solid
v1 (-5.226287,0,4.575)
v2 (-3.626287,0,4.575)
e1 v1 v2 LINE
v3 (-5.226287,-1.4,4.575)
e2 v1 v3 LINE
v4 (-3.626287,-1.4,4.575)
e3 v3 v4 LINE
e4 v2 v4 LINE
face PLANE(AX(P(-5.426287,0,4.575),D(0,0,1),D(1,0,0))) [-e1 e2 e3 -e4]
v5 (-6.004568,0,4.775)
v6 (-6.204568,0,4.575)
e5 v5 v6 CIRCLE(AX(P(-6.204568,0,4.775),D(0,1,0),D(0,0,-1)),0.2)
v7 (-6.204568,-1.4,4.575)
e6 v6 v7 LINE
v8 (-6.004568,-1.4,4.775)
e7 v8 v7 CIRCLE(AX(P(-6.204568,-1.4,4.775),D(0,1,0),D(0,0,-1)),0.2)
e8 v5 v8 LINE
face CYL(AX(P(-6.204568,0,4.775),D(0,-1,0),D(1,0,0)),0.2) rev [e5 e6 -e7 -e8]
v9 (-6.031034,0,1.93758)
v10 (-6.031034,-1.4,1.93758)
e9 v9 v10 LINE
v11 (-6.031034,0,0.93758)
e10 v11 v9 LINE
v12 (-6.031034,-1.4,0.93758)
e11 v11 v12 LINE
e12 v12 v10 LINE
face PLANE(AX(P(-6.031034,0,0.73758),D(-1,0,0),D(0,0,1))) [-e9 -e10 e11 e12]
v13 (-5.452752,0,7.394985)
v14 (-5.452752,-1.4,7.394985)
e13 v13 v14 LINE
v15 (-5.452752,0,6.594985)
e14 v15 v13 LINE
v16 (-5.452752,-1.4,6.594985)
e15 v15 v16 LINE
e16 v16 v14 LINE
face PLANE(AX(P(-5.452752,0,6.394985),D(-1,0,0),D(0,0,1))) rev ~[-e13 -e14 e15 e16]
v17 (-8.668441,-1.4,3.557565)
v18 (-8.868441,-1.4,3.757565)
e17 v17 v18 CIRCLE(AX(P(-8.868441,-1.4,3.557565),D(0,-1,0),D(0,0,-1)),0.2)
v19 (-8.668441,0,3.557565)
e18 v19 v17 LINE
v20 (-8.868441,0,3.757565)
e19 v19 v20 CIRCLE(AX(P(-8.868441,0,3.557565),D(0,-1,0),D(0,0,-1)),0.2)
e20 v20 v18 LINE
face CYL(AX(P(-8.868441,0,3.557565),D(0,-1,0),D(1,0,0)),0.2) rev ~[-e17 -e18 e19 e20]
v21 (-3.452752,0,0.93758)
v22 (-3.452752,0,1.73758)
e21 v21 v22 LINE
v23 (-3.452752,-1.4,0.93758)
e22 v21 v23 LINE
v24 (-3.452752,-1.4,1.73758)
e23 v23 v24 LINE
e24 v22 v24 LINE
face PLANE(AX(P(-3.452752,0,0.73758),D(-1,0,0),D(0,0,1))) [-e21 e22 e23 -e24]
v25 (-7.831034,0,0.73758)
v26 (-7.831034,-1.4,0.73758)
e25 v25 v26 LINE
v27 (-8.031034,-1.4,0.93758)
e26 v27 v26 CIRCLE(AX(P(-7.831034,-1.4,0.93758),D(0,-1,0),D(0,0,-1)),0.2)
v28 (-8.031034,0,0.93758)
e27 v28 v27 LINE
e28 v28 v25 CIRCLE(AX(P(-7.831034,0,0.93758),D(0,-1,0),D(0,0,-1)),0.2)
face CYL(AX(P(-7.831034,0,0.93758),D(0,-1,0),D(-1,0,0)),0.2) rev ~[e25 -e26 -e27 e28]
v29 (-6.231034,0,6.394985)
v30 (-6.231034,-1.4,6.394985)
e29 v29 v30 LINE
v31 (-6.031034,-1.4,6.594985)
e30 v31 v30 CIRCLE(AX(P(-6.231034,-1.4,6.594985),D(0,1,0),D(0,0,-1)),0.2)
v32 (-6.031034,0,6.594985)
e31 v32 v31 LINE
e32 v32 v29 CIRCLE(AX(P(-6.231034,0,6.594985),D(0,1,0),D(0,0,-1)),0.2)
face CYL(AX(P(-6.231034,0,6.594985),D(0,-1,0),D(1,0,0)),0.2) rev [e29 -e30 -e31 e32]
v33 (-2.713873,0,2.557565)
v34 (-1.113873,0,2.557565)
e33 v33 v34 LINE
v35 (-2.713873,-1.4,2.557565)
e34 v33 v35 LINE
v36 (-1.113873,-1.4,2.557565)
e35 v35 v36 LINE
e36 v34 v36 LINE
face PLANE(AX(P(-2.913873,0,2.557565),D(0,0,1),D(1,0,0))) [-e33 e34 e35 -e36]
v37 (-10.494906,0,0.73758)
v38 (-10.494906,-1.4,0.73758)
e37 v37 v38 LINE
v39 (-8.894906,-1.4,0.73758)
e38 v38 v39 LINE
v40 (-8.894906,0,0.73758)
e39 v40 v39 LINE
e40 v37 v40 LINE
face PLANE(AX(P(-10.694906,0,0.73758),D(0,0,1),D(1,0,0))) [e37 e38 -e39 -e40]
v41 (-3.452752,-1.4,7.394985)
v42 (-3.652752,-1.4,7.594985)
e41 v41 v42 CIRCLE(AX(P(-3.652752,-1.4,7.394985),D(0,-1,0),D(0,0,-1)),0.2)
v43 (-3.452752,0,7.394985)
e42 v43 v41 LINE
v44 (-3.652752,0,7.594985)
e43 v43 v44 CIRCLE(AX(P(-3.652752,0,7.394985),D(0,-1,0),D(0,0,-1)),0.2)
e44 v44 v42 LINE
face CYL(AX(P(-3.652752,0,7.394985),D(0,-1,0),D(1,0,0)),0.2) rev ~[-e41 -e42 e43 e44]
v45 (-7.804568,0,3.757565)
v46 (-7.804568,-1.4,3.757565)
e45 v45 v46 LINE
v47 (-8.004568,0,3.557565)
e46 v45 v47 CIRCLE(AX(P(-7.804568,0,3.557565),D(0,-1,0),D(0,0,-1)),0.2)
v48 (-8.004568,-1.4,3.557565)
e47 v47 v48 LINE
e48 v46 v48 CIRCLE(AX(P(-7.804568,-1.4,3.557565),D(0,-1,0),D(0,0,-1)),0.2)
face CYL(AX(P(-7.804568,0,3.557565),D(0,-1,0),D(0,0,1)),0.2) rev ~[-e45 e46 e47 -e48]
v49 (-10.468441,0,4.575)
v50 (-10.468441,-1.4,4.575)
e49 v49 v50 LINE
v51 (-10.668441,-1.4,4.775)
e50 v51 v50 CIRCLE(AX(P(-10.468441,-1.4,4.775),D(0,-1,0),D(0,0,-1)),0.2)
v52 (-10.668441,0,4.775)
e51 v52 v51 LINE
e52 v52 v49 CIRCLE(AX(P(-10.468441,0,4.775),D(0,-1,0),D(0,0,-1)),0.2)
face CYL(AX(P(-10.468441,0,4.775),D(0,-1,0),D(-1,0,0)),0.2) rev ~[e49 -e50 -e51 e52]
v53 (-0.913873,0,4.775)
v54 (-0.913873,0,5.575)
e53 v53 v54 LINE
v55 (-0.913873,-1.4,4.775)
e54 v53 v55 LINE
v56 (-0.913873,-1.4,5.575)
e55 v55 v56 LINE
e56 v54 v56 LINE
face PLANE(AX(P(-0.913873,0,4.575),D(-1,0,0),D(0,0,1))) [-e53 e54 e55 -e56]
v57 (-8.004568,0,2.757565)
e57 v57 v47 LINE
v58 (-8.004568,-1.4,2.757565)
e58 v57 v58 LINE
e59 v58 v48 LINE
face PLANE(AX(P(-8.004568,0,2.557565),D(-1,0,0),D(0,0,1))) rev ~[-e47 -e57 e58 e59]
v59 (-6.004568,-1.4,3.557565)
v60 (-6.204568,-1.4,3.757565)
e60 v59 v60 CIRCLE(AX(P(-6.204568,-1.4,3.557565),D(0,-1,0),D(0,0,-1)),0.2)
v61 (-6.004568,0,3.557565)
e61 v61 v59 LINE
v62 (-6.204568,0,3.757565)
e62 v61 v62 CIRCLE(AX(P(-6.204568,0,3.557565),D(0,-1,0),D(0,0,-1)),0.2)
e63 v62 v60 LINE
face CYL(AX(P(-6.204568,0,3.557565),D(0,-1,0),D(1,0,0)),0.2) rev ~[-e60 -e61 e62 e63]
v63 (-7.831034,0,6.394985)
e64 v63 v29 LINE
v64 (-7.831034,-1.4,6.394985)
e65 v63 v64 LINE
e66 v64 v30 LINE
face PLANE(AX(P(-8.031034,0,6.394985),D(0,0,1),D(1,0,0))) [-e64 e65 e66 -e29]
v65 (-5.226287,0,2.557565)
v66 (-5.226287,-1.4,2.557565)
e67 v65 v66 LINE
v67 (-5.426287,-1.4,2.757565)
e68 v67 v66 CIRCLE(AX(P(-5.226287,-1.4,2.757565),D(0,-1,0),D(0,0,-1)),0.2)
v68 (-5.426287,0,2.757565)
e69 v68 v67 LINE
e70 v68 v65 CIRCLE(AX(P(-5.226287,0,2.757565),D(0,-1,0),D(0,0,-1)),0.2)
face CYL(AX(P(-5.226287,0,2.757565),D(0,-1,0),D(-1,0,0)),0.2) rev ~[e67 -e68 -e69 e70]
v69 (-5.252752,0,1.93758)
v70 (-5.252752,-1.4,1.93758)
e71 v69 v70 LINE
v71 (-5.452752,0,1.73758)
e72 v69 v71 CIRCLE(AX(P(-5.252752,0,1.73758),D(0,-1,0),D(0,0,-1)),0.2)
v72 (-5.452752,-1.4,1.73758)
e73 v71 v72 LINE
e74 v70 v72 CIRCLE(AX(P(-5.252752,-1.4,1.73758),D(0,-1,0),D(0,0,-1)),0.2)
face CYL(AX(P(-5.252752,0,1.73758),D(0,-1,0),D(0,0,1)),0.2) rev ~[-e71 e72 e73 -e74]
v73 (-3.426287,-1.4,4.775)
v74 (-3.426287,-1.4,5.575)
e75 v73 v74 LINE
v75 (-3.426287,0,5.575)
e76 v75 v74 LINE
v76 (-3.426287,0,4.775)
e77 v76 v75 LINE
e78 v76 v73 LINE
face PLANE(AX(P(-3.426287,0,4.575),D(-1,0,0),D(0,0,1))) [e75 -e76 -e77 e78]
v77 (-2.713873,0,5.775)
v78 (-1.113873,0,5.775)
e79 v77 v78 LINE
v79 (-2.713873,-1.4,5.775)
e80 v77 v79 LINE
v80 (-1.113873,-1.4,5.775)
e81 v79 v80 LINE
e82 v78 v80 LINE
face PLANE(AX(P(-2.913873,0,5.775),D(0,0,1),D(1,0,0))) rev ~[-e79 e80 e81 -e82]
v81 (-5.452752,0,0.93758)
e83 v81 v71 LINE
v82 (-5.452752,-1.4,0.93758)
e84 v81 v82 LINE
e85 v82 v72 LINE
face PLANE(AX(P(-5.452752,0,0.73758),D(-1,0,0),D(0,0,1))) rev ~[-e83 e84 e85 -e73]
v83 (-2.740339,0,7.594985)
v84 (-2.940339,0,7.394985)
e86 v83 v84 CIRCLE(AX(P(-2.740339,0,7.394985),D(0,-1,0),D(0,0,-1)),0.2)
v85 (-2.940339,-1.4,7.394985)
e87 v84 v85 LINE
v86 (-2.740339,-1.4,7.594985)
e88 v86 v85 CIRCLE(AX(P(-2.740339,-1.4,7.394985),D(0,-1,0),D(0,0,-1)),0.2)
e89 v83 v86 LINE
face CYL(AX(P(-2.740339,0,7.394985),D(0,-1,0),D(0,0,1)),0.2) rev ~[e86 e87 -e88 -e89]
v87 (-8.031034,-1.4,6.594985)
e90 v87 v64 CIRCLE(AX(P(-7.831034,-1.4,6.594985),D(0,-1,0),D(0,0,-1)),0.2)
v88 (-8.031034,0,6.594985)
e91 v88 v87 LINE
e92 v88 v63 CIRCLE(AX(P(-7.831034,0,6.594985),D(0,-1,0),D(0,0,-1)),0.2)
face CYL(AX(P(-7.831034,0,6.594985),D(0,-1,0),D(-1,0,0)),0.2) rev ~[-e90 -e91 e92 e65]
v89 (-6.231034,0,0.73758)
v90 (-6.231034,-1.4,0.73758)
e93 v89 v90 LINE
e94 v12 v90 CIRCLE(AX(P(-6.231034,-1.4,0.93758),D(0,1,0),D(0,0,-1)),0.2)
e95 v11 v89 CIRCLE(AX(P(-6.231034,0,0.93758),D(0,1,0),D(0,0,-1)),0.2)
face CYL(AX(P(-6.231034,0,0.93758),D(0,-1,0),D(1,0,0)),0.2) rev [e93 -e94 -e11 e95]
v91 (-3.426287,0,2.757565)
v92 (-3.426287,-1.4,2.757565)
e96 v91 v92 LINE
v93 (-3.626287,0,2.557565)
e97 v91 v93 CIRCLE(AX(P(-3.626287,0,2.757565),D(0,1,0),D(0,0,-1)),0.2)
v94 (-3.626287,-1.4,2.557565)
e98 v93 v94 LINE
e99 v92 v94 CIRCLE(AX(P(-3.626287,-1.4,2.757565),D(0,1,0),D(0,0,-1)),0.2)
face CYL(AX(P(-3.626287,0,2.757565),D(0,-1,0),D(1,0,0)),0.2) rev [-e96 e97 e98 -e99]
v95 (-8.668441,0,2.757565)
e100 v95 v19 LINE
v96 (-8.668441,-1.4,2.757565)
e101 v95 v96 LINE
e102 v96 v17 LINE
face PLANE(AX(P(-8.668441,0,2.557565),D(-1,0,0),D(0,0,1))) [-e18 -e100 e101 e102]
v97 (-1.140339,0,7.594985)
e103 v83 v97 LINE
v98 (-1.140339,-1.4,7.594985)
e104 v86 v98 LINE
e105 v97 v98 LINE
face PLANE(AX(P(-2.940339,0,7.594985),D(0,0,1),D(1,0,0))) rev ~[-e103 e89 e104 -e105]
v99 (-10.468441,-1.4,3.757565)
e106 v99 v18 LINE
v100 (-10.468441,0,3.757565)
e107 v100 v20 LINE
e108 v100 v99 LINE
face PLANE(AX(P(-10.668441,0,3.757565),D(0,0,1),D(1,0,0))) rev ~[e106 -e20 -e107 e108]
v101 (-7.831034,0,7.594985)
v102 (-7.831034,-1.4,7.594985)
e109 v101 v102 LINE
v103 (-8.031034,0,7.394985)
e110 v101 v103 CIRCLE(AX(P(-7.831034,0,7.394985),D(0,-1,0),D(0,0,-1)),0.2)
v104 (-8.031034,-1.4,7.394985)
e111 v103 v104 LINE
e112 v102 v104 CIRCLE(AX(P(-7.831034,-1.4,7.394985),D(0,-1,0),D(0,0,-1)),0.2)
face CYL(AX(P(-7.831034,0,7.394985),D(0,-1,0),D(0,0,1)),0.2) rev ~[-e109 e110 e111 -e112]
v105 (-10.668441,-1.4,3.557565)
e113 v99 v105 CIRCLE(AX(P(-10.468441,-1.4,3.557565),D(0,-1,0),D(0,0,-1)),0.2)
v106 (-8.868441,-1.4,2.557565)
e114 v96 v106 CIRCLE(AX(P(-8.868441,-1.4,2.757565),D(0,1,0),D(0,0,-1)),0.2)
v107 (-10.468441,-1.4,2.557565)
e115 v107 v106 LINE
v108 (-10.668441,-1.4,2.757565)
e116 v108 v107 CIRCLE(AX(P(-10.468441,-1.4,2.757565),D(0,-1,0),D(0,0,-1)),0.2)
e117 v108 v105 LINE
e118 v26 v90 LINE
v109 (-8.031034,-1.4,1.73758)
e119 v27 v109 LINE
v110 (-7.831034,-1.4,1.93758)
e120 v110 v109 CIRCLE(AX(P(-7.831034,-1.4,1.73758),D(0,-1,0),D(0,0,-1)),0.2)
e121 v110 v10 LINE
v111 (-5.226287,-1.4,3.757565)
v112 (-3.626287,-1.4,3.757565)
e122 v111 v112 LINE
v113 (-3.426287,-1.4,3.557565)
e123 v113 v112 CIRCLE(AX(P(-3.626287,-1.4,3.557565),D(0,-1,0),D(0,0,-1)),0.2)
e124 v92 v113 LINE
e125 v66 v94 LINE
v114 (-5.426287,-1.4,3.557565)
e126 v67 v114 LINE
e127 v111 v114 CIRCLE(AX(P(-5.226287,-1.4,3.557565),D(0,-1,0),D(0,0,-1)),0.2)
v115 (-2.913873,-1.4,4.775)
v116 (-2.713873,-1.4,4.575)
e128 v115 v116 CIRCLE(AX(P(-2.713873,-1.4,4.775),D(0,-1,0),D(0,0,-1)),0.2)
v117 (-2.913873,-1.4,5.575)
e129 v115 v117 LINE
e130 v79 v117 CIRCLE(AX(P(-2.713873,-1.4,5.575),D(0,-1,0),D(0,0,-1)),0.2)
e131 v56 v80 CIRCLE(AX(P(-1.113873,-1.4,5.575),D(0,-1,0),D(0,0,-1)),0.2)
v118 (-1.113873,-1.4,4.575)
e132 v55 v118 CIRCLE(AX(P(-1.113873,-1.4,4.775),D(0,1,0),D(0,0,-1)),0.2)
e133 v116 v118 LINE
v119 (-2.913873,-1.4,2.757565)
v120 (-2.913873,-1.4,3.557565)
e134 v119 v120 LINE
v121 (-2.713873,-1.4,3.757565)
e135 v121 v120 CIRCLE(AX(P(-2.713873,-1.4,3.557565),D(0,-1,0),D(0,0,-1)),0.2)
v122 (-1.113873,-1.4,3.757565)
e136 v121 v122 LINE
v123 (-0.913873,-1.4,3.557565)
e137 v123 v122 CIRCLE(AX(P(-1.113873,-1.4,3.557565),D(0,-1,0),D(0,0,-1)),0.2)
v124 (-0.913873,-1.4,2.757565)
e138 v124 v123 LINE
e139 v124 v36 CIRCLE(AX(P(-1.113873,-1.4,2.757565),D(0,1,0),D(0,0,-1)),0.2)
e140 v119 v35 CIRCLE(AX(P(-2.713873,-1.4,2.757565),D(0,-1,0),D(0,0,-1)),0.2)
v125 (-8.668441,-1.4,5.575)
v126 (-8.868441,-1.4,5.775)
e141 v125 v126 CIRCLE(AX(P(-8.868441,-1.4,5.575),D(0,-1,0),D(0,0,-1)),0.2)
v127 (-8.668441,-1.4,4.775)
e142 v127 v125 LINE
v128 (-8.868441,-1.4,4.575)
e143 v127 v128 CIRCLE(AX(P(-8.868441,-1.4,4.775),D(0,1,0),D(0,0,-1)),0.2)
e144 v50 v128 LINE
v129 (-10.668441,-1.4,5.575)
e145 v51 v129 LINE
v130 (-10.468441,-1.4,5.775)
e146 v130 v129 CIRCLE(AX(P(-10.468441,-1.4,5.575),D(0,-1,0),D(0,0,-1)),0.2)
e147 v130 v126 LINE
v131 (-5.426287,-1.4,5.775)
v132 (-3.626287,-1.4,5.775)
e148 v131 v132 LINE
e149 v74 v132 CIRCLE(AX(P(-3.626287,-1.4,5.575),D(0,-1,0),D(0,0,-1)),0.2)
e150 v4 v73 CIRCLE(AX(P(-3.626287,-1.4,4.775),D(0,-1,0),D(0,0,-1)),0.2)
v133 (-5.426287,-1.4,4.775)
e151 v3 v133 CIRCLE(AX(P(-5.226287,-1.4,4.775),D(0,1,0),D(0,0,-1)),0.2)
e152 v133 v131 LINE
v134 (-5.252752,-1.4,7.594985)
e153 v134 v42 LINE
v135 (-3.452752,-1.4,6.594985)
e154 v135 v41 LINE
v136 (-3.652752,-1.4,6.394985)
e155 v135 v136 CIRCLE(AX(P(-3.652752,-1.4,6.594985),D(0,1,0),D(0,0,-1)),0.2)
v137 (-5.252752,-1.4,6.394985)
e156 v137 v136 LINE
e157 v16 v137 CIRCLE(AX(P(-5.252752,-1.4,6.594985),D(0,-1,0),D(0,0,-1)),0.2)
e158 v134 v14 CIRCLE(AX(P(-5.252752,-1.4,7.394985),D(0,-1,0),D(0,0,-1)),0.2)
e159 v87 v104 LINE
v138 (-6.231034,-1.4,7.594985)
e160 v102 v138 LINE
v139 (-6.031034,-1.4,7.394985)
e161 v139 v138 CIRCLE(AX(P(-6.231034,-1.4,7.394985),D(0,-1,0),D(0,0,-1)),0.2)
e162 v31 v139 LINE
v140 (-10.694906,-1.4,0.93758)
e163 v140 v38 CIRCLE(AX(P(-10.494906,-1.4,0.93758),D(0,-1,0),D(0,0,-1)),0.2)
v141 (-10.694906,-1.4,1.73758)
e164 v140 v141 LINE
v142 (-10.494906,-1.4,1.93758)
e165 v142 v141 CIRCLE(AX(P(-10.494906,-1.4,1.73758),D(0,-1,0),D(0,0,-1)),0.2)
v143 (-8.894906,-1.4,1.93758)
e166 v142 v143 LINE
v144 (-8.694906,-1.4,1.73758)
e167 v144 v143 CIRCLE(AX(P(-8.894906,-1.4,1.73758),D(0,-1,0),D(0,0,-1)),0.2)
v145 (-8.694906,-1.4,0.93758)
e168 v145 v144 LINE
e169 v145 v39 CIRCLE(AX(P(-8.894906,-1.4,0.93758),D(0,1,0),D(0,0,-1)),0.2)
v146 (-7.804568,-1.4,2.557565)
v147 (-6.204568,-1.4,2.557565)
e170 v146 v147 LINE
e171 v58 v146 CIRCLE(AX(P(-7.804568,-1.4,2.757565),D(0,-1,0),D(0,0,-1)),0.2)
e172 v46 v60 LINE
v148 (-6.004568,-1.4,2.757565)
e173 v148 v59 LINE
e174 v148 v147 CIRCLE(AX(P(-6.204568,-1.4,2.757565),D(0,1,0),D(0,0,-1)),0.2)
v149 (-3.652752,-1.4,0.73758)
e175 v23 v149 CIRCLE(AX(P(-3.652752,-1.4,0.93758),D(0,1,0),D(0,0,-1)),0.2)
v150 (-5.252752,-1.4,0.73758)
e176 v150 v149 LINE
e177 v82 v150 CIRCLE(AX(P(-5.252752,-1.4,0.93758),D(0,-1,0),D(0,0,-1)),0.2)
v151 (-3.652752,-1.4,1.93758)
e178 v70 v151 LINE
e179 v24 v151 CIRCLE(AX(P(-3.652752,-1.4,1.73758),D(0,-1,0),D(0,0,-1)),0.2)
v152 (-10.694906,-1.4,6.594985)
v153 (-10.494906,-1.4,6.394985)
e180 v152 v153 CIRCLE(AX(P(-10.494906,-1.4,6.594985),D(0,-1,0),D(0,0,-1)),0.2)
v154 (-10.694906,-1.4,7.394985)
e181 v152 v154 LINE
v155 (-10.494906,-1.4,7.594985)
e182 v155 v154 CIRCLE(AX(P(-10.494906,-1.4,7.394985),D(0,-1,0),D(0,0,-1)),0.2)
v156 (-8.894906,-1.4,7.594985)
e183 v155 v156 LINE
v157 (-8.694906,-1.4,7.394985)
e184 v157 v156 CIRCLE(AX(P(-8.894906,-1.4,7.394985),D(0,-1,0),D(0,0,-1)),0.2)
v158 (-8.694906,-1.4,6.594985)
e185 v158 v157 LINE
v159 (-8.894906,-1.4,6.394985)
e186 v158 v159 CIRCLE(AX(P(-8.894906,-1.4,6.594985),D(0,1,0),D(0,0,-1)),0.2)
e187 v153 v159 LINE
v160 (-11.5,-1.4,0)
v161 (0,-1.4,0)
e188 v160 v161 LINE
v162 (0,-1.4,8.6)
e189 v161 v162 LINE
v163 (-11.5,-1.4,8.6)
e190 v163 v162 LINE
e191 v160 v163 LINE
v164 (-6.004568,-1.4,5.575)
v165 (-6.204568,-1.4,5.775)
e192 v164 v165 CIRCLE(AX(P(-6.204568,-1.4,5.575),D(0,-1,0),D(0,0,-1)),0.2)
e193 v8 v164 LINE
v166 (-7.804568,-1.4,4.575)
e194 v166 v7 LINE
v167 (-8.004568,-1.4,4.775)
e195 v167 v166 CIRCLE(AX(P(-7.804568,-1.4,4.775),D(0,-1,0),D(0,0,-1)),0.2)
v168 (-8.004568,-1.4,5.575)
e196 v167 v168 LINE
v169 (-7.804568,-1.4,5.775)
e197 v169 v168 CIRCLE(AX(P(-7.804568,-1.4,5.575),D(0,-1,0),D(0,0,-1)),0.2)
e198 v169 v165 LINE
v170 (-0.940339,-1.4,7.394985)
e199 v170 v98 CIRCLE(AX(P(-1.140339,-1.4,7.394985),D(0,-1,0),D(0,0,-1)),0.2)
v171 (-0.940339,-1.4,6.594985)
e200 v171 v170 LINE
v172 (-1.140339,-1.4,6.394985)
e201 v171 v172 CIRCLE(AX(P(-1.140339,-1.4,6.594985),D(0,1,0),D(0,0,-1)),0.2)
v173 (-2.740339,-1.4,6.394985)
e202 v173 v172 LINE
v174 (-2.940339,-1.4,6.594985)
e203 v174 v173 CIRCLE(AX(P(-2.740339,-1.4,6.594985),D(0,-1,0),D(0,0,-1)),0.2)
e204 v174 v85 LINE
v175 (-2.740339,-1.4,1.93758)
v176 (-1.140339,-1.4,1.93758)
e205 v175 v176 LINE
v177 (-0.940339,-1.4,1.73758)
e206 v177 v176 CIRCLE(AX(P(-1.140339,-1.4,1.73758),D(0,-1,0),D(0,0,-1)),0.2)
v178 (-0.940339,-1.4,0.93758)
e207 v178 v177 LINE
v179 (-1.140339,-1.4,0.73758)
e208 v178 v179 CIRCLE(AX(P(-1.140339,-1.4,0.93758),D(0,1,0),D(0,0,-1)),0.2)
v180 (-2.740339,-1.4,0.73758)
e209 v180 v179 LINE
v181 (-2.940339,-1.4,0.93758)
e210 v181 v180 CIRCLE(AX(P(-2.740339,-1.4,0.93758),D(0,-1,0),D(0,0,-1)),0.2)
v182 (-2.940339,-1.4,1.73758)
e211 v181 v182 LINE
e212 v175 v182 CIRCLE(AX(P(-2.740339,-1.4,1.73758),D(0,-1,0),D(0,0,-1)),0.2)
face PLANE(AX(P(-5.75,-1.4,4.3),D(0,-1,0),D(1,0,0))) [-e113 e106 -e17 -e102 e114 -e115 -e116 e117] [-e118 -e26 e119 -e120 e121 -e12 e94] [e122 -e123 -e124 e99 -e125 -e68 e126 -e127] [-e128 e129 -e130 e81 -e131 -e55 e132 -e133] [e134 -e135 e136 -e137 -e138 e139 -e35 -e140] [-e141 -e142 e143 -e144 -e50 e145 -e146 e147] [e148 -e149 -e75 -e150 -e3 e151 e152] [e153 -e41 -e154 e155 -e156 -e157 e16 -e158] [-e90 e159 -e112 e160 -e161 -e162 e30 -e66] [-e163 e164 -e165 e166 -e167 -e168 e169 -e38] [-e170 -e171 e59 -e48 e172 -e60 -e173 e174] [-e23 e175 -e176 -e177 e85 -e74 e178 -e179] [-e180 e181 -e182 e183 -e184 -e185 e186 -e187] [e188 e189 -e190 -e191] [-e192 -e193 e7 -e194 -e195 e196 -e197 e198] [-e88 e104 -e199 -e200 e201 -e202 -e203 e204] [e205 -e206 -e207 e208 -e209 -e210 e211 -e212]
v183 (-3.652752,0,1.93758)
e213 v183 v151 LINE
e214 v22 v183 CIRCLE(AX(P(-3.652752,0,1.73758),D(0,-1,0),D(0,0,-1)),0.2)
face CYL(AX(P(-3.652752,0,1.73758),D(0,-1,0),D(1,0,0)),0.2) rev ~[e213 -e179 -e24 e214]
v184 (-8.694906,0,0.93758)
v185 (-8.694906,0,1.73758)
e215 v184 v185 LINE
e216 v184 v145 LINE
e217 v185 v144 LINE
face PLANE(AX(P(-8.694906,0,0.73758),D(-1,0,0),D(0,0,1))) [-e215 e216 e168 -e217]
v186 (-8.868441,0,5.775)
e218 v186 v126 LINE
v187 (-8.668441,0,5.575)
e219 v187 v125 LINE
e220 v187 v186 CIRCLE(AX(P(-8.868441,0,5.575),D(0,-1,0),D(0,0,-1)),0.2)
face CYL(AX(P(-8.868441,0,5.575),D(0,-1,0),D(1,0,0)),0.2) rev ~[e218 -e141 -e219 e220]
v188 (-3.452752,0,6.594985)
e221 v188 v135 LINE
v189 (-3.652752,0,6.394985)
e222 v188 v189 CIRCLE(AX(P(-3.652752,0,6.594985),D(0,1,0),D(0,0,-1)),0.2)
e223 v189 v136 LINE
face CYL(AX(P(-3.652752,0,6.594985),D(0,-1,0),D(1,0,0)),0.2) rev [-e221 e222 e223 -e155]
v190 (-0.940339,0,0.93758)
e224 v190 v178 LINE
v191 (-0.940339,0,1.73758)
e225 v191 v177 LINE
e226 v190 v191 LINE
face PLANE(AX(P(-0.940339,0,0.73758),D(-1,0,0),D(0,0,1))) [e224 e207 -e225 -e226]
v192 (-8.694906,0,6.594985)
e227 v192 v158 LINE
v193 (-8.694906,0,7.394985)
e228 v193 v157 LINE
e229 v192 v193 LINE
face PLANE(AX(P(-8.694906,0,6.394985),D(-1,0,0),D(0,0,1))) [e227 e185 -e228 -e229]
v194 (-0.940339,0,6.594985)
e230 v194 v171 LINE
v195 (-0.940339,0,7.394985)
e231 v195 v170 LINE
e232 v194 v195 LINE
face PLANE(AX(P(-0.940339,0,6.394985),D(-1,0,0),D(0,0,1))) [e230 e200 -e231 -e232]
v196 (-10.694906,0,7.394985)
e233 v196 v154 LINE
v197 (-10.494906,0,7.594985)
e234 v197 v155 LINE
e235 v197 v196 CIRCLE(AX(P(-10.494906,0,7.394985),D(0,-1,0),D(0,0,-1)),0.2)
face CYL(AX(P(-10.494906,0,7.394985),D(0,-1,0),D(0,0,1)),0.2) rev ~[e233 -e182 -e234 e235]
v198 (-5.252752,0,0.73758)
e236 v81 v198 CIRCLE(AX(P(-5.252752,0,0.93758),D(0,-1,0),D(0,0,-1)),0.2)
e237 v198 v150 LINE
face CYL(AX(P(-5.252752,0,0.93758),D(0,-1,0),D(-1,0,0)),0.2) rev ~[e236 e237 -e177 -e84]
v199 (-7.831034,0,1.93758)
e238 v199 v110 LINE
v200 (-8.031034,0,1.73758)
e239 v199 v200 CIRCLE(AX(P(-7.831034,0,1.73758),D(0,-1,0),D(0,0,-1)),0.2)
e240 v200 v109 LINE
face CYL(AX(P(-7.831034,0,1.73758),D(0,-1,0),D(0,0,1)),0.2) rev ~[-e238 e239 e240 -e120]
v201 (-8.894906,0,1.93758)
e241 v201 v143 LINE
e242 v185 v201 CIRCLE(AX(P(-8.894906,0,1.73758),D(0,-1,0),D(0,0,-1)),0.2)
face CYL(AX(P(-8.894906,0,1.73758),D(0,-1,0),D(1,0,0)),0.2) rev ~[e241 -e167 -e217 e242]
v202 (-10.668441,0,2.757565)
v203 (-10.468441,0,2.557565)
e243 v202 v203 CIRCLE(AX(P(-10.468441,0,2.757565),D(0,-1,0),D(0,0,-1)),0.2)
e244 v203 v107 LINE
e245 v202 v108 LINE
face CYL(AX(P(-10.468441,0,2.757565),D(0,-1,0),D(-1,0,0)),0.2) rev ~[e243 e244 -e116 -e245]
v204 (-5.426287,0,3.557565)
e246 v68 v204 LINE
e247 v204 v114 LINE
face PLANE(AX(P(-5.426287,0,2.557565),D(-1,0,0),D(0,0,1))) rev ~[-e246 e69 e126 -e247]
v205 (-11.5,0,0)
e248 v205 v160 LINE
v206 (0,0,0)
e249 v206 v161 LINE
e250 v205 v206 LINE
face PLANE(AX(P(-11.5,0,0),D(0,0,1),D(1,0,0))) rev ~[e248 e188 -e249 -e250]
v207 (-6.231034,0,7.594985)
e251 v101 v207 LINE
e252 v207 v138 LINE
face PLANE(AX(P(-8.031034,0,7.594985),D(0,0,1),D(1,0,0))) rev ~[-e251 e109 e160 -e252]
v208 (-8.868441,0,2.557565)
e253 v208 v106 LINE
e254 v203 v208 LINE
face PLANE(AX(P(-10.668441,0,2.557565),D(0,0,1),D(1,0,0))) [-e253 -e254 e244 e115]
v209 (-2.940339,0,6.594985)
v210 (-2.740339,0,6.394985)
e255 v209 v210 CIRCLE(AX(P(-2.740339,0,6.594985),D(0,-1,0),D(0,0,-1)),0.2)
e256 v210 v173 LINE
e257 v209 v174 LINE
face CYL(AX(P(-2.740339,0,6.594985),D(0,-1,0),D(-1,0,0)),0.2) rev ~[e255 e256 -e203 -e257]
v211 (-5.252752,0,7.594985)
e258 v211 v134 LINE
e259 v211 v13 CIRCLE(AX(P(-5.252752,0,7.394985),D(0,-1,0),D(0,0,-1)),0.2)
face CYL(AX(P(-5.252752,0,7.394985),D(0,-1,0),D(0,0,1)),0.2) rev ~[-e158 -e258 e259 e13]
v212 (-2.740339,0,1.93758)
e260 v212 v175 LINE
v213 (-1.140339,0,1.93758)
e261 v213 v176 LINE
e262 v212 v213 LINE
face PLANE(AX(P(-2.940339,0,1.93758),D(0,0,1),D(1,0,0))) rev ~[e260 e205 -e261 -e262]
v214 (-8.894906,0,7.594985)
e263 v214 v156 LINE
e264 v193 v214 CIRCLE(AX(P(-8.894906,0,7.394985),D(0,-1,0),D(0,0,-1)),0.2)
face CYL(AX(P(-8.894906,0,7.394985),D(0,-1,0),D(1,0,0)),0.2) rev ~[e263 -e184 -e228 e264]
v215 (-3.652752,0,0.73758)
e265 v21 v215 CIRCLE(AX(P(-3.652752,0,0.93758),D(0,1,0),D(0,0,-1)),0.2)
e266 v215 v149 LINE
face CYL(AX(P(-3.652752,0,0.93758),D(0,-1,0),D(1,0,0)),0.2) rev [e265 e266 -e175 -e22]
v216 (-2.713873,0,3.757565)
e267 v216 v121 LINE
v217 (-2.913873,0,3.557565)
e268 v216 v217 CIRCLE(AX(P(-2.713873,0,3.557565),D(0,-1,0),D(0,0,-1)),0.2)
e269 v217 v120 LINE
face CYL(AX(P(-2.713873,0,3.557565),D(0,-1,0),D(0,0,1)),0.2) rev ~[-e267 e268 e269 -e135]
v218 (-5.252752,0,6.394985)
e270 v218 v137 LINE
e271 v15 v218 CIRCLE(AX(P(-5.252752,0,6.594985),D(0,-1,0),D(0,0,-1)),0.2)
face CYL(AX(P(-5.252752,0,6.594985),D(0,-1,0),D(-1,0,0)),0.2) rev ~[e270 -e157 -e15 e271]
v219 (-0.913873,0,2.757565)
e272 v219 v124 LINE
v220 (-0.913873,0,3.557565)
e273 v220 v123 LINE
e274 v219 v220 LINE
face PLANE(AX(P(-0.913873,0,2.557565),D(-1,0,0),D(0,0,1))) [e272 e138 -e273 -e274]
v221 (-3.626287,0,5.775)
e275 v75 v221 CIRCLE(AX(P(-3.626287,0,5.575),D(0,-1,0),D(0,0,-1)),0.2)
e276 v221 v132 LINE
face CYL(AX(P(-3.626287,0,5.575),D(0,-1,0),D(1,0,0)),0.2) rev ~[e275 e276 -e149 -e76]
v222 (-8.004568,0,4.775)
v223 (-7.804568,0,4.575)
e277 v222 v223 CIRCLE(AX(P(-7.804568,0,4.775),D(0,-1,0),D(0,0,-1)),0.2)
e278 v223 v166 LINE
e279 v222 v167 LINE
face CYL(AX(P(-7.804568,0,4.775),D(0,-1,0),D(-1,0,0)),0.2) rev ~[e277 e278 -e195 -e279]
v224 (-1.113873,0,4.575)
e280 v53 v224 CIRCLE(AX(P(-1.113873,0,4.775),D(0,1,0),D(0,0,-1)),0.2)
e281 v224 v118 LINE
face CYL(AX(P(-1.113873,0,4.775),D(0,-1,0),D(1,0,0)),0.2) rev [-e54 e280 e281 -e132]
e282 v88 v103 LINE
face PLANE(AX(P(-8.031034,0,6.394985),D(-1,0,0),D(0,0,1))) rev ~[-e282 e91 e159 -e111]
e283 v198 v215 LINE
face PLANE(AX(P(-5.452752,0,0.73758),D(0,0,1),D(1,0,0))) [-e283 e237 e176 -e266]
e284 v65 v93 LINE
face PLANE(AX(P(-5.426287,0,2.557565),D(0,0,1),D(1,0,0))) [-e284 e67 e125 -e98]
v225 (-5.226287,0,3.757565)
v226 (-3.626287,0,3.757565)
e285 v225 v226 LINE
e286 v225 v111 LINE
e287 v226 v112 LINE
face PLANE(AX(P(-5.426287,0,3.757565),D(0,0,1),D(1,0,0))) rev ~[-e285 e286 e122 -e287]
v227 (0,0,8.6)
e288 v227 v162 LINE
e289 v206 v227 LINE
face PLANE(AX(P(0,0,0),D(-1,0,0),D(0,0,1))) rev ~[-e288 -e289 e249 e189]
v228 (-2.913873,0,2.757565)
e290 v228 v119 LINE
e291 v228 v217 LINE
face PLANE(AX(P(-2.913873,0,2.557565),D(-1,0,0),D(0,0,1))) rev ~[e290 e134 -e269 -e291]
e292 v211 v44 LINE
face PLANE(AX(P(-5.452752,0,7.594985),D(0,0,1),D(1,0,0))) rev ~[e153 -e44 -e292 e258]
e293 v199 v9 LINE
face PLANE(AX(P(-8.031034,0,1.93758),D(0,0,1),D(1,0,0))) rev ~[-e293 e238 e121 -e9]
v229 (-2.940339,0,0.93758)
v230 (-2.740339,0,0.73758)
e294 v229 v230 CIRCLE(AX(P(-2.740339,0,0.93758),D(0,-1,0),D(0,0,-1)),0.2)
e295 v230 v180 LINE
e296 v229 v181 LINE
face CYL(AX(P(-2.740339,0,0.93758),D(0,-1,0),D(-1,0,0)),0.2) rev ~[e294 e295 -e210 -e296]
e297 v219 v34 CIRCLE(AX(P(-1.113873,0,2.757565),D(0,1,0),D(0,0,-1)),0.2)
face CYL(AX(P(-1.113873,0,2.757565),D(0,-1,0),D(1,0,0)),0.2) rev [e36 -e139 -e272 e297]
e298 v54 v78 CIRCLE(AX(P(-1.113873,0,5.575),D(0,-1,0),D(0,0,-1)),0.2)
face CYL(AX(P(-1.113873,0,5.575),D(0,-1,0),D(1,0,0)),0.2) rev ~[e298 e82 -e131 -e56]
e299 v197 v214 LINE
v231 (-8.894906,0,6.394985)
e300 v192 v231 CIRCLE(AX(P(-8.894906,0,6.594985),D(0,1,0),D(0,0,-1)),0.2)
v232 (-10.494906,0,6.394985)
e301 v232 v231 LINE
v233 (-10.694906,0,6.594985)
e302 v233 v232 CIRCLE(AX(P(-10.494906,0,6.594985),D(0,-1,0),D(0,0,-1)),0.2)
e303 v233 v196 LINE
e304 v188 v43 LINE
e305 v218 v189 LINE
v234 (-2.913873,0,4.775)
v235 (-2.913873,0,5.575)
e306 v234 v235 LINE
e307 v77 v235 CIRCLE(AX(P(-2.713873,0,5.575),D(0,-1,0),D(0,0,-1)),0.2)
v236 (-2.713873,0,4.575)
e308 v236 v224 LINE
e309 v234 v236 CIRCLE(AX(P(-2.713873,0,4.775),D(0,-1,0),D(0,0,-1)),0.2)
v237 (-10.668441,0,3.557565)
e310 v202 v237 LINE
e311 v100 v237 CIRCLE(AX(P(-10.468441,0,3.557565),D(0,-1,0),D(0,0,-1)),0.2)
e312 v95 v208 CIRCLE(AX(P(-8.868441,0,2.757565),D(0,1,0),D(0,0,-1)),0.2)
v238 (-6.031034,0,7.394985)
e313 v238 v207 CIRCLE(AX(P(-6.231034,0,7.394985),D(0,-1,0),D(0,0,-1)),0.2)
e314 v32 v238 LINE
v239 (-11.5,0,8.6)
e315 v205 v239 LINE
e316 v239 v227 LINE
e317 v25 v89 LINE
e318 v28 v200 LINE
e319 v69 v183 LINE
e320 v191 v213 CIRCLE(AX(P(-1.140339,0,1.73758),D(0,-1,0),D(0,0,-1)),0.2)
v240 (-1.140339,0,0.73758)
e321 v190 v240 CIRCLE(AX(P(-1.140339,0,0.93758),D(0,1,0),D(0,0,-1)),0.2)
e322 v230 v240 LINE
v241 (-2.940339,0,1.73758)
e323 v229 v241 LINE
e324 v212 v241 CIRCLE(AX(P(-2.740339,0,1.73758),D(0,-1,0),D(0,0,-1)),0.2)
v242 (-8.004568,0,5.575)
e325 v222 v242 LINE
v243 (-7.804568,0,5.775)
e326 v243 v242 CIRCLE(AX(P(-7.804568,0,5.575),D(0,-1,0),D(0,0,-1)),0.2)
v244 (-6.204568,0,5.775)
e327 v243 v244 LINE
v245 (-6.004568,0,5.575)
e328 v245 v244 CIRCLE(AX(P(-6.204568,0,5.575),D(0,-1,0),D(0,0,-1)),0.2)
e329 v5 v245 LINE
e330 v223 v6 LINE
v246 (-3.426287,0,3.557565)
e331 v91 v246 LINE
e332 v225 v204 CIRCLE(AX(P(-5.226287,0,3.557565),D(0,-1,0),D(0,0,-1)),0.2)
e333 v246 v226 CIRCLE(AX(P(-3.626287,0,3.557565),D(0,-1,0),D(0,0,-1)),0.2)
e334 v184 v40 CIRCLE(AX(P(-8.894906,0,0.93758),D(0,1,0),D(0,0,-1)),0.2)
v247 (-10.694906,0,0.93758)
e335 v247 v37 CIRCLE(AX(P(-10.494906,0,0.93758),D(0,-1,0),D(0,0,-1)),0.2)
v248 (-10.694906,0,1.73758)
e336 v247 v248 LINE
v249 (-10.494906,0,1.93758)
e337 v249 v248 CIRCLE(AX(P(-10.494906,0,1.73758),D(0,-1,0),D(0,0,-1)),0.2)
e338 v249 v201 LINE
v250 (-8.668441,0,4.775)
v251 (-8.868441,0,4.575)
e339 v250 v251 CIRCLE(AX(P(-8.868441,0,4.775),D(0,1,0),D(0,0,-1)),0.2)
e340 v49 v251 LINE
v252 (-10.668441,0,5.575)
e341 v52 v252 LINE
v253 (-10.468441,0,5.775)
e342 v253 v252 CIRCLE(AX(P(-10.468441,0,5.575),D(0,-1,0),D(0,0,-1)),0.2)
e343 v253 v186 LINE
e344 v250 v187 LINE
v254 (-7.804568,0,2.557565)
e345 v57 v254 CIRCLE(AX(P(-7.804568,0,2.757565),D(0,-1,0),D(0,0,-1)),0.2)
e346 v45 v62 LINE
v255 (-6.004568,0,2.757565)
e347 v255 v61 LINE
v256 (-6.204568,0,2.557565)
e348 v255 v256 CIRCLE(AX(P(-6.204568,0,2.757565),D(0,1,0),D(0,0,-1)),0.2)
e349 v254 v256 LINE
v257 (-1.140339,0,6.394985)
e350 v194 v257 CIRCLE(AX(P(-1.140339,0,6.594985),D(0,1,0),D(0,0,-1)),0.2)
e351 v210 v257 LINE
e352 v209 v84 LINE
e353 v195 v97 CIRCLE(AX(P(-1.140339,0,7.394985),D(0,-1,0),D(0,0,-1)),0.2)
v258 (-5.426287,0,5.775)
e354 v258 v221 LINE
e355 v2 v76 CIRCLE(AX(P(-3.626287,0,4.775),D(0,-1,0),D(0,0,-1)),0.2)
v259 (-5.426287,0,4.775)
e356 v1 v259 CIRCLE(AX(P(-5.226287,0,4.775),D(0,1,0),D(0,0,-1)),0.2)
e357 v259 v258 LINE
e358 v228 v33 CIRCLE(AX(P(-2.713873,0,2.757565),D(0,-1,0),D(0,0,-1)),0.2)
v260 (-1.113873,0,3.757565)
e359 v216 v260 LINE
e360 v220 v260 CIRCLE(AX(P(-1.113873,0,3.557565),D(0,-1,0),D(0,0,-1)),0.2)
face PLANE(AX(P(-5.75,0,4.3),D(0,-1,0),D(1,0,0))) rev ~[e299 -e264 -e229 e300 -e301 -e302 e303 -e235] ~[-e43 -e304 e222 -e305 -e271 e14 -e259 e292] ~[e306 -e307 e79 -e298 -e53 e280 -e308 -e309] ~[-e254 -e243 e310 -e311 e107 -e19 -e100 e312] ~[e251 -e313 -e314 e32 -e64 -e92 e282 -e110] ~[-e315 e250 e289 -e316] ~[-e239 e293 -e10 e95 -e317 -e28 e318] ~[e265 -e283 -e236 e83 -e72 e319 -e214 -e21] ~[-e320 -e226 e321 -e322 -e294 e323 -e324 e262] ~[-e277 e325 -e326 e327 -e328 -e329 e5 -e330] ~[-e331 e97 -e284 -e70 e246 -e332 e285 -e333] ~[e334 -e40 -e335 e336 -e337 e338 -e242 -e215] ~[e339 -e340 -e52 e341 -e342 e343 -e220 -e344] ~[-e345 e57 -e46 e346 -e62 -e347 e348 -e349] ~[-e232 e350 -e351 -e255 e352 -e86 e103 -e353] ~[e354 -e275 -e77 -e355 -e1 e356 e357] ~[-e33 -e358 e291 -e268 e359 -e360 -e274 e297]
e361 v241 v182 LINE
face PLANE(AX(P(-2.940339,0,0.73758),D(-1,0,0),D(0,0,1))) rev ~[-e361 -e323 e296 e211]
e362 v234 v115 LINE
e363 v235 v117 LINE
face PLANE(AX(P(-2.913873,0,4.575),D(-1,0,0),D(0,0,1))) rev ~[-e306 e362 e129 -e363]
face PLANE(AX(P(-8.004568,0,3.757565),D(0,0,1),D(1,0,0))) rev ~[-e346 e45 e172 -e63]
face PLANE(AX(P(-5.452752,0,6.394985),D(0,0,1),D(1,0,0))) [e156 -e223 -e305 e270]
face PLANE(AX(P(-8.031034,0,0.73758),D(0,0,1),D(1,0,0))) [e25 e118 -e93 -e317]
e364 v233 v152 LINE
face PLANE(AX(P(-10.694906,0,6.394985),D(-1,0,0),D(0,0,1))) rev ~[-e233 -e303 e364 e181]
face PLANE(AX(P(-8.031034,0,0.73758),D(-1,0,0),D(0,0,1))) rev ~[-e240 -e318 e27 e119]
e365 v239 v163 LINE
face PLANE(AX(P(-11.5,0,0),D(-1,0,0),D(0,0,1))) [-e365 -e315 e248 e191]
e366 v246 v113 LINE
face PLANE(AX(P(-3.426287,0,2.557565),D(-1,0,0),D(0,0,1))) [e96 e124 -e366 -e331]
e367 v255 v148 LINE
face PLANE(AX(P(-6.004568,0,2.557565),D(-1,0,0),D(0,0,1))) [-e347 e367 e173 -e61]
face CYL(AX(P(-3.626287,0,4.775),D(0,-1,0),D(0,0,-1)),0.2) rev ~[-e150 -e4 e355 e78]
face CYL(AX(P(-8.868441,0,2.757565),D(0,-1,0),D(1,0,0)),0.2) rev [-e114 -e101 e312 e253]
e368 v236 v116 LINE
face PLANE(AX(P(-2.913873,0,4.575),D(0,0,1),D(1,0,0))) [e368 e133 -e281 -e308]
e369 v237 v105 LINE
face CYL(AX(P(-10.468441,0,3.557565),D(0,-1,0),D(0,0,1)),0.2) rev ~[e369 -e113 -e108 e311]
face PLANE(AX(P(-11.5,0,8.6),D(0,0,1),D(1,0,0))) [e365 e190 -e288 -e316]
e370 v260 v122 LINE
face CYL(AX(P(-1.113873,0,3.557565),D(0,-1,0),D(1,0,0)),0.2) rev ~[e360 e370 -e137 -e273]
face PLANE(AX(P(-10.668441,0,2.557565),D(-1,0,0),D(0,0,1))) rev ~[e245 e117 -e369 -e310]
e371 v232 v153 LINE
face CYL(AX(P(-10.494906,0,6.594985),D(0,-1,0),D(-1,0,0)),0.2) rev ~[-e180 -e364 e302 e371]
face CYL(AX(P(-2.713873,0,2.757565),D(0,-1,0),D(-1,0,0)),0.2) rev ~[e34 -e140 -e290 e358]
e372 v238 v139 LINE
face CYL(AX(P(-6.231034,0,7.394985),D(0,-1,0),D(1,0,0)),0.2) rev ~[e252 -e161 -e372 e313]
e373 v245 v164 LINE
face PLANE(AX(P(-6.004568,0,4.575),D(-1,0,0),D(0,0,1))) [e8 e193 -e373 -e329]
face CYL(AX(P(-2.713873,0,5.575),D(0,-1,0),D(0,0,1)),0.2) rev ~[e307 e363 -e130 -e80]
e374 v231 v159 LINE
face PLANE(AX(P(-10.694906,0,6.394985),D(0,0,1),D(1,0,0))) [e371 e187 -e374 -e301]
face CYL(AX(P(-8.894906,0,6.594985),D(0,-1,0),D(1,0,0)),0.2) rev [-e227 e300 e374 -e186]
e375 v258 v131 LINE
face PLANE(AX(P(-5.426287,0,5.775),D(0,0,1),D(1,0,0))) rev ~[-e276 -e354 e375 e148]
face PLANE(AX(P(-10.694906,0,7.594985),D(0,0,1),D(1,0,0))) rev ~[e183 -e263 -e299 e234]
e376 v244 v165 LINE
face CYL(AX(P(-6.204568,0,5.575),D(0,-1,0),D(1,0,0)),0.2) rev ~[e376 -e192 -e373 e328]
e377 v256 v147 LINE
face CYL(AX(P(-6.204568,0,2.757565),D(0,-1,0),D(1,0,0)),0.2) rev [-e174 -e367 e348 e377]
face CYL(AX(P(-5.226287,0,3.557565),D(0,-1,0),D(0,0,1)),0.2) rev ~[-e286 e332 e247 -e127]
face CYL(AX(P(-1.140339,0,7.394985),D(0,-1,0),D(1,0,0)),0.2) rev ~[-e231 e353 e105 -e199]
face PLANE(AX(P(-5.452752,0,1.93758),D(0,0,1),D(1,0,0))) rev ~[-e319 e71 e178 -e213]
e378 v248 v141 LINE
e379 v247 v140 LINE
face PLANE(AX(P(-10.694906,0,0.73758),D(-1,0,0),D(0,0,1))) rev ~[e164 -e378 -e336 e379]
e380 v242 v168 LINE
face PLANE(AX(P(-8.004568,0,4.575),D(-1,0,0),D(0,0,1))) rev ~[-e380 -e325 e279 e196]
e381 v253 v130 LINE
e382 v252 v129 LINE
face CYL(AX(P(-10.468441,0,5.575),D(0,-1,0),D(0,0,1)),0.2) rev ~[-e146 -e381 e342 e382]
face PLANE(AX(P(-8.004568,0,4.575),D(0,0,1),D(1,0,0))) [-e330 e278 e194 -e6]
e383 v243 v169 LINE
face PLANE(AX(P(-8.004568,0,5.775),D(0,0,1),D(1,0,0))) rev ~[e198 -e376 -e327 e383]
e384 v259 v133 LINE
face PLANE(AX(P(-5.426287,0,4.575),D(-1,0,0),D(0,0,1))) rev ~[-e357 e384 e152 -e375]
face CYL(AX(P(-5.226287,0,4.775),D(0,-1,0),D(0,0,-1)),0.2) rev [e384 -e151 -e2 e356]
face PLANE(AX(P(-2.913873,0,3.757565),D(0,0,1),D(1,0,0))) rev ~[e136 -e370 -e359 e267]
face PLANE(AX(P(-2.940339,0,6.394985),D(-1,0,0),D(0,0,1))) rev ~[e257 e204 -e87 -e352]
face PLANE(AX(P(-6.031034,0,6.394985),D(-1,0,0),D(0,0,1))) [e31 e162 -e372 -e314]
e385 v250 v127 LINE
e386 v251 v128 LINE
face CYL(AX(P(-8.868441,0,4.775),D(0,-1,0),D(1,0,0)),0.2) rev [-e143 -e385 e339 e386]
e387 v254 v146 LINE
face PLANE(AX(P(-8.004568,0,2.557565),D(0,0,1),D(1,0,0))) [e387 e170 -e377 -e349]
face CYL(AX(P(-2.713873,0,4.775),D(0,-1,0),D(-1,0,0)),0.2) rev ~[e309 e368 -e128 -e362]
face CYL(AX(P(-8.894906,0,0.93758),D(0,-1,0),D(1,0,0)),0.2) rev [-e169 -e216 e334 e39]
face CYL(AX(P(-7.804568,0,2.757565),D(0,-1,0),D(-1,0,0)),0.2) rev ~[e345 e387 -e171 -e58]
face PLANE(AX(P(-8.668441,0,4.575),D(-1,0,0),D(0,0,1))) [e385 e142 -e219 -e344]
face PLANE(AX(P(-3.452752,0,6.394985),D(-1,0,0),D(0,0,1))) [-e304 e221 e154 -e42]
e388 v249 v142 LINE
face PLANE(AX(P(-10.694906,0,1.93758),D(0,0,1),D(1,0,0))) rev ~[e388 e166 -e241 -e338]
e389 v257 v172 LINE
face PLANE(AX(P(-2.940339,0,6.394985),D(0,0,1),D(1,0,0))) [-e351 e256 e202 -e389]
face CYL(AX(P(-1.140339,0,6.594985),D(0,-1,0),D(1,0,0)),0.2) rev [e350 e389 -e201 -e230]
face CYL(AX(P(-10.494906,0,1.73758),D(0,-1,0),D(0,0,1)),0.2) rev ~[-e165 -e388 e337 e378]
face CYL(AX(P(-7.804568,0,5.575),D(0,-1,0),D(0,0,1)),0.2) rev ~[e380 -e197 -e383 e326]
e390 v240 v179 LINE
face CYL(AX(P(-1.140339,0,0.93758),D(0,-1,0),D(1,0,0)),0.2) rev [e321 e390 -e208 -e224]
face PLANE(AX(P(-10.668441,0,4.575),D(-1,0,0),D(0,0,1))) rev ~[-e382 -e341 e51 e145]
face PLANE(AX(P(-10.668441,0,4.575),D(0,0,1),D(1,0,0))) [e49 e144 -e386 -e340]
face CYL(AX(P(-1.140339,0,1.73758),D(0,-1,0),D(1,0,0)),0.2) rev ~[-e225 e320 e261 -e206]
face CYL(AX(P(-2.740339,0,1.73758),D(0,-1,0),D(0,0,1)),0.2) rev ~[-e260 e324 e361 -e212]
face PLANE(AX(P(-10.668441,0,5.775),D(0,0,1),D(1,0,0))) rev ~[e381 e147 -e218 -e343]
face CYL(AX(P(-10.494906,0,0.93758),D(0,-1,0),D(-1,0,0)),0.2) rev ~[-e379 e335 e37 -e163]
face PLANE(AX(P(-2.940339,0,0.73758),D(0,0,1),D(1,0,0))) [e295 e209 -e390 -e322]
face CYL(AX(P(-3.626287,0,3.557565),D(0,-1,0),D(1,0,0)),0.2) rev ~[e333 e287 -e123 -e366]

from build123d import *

# Parameters (mm, degrees)
F0_W     = 11.5
F0_H     = 8.6
F2_DEPTH = 1.4
F1_W     = 2
F1_H     = 1.2
F3_DEPTH = 1.4
F4_R     = 0.2
F5_R     = 0.2
F6_R     = 0.2


with BuildPart() as f2:
    # F0 (on Front) → F2 (new body)
    with BuildSketch(Plane.XZ):
        with Locations((-5.75, 4.3)):
            Rectangle(F0_W, F0_H)
    extrude(amount=F2_DEPTH)

    # F1 (on Front) → F3 (cut)
    with BuildSketch(Plane.XZ):
        with Locations((-9.694906, 6.994985)):
            Rectangle(F1_W, F1_H)
        with Locations((-7.031034, 6.994985)):
            Rectangle(F1_W, F1_H)
        with Locations((-4.452752, 6.994985)):
            Rectangle(F1_W, F1_H)
        with Locations((-1.940339, 6.994985)):
            Rectangle(F1_W, F1_H)
        with Locations((-9.668441, 5.175)):
            Rectangle(F1_W, F1_H)
        with Locations((-7.004568, 5.175)):
            Rectangle(F1_W, F1_H)
        with Locations((-4.426287, 5.175)):
            Rectangle(F1_W, F1_H)
        with Locations((-1.913873, 5.175)):
            Rectangle(F1_W, F1_H)
        with Locations((-9.668441, 3.157565)):
            Rectangle(F1_W, F1_H)
        with Locations((-4.426287, 3.157565)):
            Rectangle(F1_W, F1_H)
        with Locations((-7.004568, 3.157565)):
            Rectangle(F1_W, F1_H)
        with Locations((-1.940339, 1.33758)):
            Rectangle(F1_W, F1_H)
        with Locations((-1.913873, 3.157565)):
            Rectangle(F1_W, F1_H)
        with Locations((-4.452752, 1.33758)):
            Rectangle(F1_W, F1_H)
        with Locations((-7.031034, 1.33758)):
            Rectangle(F1_W, F1_H)
        with Locations((-9.694906, 1.33758)):
            Rectangle(F1_W, F1_H)
    extrude(amount=F3_DEPTH, mode=Mode.SUBTRACT)

    # F4
    f4_edges = [f2.edges().sort_by_distance(p)[0] for p in [
        (-10.668441, -0.7, 3.757565),
        (-10.668441, -0.7, 5.775),
        (-10.694906, -0.7, 7.594985),
        (-8.031034, -0.7, 1.93758),
        (-10.694906, -0.7, 1.93758),
        (-8.004568, -0.7, 3.757565),
        (-8.004568, -0.7, 5.775),
        (-8.031034, -0.7, 7.594985),
        (-5.452752, -0.7, 7.594985),
        (-5.426287, -0.7, 3.757565),
        (-5.452752, -0.7, 1.93758),
        (-2.913873, -0.7, 3.757565),
        (-2.940339, -0.7, 1.93758),
        (-2.913873, -0.7, 5.775),
        (-2.940339, -0.7, 7.594985),
    ]]
    fillet(f4_edges, radius=F4_R)

    # F5
    f5_edges = [f2.edges().sort_by_distance(p)[0] for p in [
        (-8.694906, -0.7, 0.73758),
        (-8.668441, -0.7, 2.557565),
        (-8.668441, -0.7, 4.575),
        (-8.694906, -0.7, 6.394985),
        (-6.031034, -0.7, 6.394985),
        (-6.004568, -0.7, 4.575),
        (-6.004568, -0.7, 2.557565),
        (-6.031034, -0.7, 0.73758),
        (-3.452752, -0.7, 0.73758),
        (-3.426287, -0.7, 2.557565),
        (-3.426287, -0.7, 4.575),
        (-3.452752, -0.7, 6.394985),
        (-0.940339, -0.7, 6.394985),
        (-0.913873, -0.7, 4.575),
        (-0.913873, -0.7, 2.557565),
        (-0.940339, -0.7, 0.73758),
        (-2.940339, -0.7, 0.73758),
        (-2.913873, -0.7, 2.557565),
        (-2.913873, -0.7, 4.575),
        (-2.940339, -0.7, 6.394985),
        (-5.452752, -0.7, 6.394985),
        (-5.426287, -0.7, 4.575),
        (-5.426287, -0.7, 2.557565),
        (-5.452752, -0.7, 0.73758),
        (-8.031034, -0.7, 0.73758),
        (-8.004568, -0.7, 2.557565),
        (-8.004568, -0.7, 4.575),
        (-8.031034, -0.7, 6.394985),
        (-10.694906, -0.7, 6.394985),
        (-10.668441, -0.7, 4.575),
        (-10.668441, -0.7, 2.557565),
        (-10.694906, -0.7, 0.73758),
    ]]
    fillet(f5_edges, radius=F5_R)

    # F6
    f6_edges = [f2.edges().sort_by_distance(p)[0] for p in [
        (-8.694906, -0.7, 7.594985),
        (-8.668441, -0.7, 5.775),
        (-8.668441, -0.7, 3.757565),
        (-8.694906, -0.7, 1.93758),
        (-6.004568, -0.7, 3.757565),
        (-6.004568, -0.7, 5.775),
        (-6.031034, -0.7, 7.594985),
        (-3.452752, -0.7, 7.594985),
        (-3.426287, -0.7, 5.775),
        (-3.426287, -0.7, 3.757565),
        (-3.452752, -0.7, 1.93758),
        (-0.913873, -0.7, 3.757565),
        (-0.940339, -0.7, 1.93758),
        (-0.913873, -0.7, 5.775),
        (-0.940339, -0.7, 7.594985),
    ]]
    fillet(f6_edges, radius=F6_R)


solid = f2.part
